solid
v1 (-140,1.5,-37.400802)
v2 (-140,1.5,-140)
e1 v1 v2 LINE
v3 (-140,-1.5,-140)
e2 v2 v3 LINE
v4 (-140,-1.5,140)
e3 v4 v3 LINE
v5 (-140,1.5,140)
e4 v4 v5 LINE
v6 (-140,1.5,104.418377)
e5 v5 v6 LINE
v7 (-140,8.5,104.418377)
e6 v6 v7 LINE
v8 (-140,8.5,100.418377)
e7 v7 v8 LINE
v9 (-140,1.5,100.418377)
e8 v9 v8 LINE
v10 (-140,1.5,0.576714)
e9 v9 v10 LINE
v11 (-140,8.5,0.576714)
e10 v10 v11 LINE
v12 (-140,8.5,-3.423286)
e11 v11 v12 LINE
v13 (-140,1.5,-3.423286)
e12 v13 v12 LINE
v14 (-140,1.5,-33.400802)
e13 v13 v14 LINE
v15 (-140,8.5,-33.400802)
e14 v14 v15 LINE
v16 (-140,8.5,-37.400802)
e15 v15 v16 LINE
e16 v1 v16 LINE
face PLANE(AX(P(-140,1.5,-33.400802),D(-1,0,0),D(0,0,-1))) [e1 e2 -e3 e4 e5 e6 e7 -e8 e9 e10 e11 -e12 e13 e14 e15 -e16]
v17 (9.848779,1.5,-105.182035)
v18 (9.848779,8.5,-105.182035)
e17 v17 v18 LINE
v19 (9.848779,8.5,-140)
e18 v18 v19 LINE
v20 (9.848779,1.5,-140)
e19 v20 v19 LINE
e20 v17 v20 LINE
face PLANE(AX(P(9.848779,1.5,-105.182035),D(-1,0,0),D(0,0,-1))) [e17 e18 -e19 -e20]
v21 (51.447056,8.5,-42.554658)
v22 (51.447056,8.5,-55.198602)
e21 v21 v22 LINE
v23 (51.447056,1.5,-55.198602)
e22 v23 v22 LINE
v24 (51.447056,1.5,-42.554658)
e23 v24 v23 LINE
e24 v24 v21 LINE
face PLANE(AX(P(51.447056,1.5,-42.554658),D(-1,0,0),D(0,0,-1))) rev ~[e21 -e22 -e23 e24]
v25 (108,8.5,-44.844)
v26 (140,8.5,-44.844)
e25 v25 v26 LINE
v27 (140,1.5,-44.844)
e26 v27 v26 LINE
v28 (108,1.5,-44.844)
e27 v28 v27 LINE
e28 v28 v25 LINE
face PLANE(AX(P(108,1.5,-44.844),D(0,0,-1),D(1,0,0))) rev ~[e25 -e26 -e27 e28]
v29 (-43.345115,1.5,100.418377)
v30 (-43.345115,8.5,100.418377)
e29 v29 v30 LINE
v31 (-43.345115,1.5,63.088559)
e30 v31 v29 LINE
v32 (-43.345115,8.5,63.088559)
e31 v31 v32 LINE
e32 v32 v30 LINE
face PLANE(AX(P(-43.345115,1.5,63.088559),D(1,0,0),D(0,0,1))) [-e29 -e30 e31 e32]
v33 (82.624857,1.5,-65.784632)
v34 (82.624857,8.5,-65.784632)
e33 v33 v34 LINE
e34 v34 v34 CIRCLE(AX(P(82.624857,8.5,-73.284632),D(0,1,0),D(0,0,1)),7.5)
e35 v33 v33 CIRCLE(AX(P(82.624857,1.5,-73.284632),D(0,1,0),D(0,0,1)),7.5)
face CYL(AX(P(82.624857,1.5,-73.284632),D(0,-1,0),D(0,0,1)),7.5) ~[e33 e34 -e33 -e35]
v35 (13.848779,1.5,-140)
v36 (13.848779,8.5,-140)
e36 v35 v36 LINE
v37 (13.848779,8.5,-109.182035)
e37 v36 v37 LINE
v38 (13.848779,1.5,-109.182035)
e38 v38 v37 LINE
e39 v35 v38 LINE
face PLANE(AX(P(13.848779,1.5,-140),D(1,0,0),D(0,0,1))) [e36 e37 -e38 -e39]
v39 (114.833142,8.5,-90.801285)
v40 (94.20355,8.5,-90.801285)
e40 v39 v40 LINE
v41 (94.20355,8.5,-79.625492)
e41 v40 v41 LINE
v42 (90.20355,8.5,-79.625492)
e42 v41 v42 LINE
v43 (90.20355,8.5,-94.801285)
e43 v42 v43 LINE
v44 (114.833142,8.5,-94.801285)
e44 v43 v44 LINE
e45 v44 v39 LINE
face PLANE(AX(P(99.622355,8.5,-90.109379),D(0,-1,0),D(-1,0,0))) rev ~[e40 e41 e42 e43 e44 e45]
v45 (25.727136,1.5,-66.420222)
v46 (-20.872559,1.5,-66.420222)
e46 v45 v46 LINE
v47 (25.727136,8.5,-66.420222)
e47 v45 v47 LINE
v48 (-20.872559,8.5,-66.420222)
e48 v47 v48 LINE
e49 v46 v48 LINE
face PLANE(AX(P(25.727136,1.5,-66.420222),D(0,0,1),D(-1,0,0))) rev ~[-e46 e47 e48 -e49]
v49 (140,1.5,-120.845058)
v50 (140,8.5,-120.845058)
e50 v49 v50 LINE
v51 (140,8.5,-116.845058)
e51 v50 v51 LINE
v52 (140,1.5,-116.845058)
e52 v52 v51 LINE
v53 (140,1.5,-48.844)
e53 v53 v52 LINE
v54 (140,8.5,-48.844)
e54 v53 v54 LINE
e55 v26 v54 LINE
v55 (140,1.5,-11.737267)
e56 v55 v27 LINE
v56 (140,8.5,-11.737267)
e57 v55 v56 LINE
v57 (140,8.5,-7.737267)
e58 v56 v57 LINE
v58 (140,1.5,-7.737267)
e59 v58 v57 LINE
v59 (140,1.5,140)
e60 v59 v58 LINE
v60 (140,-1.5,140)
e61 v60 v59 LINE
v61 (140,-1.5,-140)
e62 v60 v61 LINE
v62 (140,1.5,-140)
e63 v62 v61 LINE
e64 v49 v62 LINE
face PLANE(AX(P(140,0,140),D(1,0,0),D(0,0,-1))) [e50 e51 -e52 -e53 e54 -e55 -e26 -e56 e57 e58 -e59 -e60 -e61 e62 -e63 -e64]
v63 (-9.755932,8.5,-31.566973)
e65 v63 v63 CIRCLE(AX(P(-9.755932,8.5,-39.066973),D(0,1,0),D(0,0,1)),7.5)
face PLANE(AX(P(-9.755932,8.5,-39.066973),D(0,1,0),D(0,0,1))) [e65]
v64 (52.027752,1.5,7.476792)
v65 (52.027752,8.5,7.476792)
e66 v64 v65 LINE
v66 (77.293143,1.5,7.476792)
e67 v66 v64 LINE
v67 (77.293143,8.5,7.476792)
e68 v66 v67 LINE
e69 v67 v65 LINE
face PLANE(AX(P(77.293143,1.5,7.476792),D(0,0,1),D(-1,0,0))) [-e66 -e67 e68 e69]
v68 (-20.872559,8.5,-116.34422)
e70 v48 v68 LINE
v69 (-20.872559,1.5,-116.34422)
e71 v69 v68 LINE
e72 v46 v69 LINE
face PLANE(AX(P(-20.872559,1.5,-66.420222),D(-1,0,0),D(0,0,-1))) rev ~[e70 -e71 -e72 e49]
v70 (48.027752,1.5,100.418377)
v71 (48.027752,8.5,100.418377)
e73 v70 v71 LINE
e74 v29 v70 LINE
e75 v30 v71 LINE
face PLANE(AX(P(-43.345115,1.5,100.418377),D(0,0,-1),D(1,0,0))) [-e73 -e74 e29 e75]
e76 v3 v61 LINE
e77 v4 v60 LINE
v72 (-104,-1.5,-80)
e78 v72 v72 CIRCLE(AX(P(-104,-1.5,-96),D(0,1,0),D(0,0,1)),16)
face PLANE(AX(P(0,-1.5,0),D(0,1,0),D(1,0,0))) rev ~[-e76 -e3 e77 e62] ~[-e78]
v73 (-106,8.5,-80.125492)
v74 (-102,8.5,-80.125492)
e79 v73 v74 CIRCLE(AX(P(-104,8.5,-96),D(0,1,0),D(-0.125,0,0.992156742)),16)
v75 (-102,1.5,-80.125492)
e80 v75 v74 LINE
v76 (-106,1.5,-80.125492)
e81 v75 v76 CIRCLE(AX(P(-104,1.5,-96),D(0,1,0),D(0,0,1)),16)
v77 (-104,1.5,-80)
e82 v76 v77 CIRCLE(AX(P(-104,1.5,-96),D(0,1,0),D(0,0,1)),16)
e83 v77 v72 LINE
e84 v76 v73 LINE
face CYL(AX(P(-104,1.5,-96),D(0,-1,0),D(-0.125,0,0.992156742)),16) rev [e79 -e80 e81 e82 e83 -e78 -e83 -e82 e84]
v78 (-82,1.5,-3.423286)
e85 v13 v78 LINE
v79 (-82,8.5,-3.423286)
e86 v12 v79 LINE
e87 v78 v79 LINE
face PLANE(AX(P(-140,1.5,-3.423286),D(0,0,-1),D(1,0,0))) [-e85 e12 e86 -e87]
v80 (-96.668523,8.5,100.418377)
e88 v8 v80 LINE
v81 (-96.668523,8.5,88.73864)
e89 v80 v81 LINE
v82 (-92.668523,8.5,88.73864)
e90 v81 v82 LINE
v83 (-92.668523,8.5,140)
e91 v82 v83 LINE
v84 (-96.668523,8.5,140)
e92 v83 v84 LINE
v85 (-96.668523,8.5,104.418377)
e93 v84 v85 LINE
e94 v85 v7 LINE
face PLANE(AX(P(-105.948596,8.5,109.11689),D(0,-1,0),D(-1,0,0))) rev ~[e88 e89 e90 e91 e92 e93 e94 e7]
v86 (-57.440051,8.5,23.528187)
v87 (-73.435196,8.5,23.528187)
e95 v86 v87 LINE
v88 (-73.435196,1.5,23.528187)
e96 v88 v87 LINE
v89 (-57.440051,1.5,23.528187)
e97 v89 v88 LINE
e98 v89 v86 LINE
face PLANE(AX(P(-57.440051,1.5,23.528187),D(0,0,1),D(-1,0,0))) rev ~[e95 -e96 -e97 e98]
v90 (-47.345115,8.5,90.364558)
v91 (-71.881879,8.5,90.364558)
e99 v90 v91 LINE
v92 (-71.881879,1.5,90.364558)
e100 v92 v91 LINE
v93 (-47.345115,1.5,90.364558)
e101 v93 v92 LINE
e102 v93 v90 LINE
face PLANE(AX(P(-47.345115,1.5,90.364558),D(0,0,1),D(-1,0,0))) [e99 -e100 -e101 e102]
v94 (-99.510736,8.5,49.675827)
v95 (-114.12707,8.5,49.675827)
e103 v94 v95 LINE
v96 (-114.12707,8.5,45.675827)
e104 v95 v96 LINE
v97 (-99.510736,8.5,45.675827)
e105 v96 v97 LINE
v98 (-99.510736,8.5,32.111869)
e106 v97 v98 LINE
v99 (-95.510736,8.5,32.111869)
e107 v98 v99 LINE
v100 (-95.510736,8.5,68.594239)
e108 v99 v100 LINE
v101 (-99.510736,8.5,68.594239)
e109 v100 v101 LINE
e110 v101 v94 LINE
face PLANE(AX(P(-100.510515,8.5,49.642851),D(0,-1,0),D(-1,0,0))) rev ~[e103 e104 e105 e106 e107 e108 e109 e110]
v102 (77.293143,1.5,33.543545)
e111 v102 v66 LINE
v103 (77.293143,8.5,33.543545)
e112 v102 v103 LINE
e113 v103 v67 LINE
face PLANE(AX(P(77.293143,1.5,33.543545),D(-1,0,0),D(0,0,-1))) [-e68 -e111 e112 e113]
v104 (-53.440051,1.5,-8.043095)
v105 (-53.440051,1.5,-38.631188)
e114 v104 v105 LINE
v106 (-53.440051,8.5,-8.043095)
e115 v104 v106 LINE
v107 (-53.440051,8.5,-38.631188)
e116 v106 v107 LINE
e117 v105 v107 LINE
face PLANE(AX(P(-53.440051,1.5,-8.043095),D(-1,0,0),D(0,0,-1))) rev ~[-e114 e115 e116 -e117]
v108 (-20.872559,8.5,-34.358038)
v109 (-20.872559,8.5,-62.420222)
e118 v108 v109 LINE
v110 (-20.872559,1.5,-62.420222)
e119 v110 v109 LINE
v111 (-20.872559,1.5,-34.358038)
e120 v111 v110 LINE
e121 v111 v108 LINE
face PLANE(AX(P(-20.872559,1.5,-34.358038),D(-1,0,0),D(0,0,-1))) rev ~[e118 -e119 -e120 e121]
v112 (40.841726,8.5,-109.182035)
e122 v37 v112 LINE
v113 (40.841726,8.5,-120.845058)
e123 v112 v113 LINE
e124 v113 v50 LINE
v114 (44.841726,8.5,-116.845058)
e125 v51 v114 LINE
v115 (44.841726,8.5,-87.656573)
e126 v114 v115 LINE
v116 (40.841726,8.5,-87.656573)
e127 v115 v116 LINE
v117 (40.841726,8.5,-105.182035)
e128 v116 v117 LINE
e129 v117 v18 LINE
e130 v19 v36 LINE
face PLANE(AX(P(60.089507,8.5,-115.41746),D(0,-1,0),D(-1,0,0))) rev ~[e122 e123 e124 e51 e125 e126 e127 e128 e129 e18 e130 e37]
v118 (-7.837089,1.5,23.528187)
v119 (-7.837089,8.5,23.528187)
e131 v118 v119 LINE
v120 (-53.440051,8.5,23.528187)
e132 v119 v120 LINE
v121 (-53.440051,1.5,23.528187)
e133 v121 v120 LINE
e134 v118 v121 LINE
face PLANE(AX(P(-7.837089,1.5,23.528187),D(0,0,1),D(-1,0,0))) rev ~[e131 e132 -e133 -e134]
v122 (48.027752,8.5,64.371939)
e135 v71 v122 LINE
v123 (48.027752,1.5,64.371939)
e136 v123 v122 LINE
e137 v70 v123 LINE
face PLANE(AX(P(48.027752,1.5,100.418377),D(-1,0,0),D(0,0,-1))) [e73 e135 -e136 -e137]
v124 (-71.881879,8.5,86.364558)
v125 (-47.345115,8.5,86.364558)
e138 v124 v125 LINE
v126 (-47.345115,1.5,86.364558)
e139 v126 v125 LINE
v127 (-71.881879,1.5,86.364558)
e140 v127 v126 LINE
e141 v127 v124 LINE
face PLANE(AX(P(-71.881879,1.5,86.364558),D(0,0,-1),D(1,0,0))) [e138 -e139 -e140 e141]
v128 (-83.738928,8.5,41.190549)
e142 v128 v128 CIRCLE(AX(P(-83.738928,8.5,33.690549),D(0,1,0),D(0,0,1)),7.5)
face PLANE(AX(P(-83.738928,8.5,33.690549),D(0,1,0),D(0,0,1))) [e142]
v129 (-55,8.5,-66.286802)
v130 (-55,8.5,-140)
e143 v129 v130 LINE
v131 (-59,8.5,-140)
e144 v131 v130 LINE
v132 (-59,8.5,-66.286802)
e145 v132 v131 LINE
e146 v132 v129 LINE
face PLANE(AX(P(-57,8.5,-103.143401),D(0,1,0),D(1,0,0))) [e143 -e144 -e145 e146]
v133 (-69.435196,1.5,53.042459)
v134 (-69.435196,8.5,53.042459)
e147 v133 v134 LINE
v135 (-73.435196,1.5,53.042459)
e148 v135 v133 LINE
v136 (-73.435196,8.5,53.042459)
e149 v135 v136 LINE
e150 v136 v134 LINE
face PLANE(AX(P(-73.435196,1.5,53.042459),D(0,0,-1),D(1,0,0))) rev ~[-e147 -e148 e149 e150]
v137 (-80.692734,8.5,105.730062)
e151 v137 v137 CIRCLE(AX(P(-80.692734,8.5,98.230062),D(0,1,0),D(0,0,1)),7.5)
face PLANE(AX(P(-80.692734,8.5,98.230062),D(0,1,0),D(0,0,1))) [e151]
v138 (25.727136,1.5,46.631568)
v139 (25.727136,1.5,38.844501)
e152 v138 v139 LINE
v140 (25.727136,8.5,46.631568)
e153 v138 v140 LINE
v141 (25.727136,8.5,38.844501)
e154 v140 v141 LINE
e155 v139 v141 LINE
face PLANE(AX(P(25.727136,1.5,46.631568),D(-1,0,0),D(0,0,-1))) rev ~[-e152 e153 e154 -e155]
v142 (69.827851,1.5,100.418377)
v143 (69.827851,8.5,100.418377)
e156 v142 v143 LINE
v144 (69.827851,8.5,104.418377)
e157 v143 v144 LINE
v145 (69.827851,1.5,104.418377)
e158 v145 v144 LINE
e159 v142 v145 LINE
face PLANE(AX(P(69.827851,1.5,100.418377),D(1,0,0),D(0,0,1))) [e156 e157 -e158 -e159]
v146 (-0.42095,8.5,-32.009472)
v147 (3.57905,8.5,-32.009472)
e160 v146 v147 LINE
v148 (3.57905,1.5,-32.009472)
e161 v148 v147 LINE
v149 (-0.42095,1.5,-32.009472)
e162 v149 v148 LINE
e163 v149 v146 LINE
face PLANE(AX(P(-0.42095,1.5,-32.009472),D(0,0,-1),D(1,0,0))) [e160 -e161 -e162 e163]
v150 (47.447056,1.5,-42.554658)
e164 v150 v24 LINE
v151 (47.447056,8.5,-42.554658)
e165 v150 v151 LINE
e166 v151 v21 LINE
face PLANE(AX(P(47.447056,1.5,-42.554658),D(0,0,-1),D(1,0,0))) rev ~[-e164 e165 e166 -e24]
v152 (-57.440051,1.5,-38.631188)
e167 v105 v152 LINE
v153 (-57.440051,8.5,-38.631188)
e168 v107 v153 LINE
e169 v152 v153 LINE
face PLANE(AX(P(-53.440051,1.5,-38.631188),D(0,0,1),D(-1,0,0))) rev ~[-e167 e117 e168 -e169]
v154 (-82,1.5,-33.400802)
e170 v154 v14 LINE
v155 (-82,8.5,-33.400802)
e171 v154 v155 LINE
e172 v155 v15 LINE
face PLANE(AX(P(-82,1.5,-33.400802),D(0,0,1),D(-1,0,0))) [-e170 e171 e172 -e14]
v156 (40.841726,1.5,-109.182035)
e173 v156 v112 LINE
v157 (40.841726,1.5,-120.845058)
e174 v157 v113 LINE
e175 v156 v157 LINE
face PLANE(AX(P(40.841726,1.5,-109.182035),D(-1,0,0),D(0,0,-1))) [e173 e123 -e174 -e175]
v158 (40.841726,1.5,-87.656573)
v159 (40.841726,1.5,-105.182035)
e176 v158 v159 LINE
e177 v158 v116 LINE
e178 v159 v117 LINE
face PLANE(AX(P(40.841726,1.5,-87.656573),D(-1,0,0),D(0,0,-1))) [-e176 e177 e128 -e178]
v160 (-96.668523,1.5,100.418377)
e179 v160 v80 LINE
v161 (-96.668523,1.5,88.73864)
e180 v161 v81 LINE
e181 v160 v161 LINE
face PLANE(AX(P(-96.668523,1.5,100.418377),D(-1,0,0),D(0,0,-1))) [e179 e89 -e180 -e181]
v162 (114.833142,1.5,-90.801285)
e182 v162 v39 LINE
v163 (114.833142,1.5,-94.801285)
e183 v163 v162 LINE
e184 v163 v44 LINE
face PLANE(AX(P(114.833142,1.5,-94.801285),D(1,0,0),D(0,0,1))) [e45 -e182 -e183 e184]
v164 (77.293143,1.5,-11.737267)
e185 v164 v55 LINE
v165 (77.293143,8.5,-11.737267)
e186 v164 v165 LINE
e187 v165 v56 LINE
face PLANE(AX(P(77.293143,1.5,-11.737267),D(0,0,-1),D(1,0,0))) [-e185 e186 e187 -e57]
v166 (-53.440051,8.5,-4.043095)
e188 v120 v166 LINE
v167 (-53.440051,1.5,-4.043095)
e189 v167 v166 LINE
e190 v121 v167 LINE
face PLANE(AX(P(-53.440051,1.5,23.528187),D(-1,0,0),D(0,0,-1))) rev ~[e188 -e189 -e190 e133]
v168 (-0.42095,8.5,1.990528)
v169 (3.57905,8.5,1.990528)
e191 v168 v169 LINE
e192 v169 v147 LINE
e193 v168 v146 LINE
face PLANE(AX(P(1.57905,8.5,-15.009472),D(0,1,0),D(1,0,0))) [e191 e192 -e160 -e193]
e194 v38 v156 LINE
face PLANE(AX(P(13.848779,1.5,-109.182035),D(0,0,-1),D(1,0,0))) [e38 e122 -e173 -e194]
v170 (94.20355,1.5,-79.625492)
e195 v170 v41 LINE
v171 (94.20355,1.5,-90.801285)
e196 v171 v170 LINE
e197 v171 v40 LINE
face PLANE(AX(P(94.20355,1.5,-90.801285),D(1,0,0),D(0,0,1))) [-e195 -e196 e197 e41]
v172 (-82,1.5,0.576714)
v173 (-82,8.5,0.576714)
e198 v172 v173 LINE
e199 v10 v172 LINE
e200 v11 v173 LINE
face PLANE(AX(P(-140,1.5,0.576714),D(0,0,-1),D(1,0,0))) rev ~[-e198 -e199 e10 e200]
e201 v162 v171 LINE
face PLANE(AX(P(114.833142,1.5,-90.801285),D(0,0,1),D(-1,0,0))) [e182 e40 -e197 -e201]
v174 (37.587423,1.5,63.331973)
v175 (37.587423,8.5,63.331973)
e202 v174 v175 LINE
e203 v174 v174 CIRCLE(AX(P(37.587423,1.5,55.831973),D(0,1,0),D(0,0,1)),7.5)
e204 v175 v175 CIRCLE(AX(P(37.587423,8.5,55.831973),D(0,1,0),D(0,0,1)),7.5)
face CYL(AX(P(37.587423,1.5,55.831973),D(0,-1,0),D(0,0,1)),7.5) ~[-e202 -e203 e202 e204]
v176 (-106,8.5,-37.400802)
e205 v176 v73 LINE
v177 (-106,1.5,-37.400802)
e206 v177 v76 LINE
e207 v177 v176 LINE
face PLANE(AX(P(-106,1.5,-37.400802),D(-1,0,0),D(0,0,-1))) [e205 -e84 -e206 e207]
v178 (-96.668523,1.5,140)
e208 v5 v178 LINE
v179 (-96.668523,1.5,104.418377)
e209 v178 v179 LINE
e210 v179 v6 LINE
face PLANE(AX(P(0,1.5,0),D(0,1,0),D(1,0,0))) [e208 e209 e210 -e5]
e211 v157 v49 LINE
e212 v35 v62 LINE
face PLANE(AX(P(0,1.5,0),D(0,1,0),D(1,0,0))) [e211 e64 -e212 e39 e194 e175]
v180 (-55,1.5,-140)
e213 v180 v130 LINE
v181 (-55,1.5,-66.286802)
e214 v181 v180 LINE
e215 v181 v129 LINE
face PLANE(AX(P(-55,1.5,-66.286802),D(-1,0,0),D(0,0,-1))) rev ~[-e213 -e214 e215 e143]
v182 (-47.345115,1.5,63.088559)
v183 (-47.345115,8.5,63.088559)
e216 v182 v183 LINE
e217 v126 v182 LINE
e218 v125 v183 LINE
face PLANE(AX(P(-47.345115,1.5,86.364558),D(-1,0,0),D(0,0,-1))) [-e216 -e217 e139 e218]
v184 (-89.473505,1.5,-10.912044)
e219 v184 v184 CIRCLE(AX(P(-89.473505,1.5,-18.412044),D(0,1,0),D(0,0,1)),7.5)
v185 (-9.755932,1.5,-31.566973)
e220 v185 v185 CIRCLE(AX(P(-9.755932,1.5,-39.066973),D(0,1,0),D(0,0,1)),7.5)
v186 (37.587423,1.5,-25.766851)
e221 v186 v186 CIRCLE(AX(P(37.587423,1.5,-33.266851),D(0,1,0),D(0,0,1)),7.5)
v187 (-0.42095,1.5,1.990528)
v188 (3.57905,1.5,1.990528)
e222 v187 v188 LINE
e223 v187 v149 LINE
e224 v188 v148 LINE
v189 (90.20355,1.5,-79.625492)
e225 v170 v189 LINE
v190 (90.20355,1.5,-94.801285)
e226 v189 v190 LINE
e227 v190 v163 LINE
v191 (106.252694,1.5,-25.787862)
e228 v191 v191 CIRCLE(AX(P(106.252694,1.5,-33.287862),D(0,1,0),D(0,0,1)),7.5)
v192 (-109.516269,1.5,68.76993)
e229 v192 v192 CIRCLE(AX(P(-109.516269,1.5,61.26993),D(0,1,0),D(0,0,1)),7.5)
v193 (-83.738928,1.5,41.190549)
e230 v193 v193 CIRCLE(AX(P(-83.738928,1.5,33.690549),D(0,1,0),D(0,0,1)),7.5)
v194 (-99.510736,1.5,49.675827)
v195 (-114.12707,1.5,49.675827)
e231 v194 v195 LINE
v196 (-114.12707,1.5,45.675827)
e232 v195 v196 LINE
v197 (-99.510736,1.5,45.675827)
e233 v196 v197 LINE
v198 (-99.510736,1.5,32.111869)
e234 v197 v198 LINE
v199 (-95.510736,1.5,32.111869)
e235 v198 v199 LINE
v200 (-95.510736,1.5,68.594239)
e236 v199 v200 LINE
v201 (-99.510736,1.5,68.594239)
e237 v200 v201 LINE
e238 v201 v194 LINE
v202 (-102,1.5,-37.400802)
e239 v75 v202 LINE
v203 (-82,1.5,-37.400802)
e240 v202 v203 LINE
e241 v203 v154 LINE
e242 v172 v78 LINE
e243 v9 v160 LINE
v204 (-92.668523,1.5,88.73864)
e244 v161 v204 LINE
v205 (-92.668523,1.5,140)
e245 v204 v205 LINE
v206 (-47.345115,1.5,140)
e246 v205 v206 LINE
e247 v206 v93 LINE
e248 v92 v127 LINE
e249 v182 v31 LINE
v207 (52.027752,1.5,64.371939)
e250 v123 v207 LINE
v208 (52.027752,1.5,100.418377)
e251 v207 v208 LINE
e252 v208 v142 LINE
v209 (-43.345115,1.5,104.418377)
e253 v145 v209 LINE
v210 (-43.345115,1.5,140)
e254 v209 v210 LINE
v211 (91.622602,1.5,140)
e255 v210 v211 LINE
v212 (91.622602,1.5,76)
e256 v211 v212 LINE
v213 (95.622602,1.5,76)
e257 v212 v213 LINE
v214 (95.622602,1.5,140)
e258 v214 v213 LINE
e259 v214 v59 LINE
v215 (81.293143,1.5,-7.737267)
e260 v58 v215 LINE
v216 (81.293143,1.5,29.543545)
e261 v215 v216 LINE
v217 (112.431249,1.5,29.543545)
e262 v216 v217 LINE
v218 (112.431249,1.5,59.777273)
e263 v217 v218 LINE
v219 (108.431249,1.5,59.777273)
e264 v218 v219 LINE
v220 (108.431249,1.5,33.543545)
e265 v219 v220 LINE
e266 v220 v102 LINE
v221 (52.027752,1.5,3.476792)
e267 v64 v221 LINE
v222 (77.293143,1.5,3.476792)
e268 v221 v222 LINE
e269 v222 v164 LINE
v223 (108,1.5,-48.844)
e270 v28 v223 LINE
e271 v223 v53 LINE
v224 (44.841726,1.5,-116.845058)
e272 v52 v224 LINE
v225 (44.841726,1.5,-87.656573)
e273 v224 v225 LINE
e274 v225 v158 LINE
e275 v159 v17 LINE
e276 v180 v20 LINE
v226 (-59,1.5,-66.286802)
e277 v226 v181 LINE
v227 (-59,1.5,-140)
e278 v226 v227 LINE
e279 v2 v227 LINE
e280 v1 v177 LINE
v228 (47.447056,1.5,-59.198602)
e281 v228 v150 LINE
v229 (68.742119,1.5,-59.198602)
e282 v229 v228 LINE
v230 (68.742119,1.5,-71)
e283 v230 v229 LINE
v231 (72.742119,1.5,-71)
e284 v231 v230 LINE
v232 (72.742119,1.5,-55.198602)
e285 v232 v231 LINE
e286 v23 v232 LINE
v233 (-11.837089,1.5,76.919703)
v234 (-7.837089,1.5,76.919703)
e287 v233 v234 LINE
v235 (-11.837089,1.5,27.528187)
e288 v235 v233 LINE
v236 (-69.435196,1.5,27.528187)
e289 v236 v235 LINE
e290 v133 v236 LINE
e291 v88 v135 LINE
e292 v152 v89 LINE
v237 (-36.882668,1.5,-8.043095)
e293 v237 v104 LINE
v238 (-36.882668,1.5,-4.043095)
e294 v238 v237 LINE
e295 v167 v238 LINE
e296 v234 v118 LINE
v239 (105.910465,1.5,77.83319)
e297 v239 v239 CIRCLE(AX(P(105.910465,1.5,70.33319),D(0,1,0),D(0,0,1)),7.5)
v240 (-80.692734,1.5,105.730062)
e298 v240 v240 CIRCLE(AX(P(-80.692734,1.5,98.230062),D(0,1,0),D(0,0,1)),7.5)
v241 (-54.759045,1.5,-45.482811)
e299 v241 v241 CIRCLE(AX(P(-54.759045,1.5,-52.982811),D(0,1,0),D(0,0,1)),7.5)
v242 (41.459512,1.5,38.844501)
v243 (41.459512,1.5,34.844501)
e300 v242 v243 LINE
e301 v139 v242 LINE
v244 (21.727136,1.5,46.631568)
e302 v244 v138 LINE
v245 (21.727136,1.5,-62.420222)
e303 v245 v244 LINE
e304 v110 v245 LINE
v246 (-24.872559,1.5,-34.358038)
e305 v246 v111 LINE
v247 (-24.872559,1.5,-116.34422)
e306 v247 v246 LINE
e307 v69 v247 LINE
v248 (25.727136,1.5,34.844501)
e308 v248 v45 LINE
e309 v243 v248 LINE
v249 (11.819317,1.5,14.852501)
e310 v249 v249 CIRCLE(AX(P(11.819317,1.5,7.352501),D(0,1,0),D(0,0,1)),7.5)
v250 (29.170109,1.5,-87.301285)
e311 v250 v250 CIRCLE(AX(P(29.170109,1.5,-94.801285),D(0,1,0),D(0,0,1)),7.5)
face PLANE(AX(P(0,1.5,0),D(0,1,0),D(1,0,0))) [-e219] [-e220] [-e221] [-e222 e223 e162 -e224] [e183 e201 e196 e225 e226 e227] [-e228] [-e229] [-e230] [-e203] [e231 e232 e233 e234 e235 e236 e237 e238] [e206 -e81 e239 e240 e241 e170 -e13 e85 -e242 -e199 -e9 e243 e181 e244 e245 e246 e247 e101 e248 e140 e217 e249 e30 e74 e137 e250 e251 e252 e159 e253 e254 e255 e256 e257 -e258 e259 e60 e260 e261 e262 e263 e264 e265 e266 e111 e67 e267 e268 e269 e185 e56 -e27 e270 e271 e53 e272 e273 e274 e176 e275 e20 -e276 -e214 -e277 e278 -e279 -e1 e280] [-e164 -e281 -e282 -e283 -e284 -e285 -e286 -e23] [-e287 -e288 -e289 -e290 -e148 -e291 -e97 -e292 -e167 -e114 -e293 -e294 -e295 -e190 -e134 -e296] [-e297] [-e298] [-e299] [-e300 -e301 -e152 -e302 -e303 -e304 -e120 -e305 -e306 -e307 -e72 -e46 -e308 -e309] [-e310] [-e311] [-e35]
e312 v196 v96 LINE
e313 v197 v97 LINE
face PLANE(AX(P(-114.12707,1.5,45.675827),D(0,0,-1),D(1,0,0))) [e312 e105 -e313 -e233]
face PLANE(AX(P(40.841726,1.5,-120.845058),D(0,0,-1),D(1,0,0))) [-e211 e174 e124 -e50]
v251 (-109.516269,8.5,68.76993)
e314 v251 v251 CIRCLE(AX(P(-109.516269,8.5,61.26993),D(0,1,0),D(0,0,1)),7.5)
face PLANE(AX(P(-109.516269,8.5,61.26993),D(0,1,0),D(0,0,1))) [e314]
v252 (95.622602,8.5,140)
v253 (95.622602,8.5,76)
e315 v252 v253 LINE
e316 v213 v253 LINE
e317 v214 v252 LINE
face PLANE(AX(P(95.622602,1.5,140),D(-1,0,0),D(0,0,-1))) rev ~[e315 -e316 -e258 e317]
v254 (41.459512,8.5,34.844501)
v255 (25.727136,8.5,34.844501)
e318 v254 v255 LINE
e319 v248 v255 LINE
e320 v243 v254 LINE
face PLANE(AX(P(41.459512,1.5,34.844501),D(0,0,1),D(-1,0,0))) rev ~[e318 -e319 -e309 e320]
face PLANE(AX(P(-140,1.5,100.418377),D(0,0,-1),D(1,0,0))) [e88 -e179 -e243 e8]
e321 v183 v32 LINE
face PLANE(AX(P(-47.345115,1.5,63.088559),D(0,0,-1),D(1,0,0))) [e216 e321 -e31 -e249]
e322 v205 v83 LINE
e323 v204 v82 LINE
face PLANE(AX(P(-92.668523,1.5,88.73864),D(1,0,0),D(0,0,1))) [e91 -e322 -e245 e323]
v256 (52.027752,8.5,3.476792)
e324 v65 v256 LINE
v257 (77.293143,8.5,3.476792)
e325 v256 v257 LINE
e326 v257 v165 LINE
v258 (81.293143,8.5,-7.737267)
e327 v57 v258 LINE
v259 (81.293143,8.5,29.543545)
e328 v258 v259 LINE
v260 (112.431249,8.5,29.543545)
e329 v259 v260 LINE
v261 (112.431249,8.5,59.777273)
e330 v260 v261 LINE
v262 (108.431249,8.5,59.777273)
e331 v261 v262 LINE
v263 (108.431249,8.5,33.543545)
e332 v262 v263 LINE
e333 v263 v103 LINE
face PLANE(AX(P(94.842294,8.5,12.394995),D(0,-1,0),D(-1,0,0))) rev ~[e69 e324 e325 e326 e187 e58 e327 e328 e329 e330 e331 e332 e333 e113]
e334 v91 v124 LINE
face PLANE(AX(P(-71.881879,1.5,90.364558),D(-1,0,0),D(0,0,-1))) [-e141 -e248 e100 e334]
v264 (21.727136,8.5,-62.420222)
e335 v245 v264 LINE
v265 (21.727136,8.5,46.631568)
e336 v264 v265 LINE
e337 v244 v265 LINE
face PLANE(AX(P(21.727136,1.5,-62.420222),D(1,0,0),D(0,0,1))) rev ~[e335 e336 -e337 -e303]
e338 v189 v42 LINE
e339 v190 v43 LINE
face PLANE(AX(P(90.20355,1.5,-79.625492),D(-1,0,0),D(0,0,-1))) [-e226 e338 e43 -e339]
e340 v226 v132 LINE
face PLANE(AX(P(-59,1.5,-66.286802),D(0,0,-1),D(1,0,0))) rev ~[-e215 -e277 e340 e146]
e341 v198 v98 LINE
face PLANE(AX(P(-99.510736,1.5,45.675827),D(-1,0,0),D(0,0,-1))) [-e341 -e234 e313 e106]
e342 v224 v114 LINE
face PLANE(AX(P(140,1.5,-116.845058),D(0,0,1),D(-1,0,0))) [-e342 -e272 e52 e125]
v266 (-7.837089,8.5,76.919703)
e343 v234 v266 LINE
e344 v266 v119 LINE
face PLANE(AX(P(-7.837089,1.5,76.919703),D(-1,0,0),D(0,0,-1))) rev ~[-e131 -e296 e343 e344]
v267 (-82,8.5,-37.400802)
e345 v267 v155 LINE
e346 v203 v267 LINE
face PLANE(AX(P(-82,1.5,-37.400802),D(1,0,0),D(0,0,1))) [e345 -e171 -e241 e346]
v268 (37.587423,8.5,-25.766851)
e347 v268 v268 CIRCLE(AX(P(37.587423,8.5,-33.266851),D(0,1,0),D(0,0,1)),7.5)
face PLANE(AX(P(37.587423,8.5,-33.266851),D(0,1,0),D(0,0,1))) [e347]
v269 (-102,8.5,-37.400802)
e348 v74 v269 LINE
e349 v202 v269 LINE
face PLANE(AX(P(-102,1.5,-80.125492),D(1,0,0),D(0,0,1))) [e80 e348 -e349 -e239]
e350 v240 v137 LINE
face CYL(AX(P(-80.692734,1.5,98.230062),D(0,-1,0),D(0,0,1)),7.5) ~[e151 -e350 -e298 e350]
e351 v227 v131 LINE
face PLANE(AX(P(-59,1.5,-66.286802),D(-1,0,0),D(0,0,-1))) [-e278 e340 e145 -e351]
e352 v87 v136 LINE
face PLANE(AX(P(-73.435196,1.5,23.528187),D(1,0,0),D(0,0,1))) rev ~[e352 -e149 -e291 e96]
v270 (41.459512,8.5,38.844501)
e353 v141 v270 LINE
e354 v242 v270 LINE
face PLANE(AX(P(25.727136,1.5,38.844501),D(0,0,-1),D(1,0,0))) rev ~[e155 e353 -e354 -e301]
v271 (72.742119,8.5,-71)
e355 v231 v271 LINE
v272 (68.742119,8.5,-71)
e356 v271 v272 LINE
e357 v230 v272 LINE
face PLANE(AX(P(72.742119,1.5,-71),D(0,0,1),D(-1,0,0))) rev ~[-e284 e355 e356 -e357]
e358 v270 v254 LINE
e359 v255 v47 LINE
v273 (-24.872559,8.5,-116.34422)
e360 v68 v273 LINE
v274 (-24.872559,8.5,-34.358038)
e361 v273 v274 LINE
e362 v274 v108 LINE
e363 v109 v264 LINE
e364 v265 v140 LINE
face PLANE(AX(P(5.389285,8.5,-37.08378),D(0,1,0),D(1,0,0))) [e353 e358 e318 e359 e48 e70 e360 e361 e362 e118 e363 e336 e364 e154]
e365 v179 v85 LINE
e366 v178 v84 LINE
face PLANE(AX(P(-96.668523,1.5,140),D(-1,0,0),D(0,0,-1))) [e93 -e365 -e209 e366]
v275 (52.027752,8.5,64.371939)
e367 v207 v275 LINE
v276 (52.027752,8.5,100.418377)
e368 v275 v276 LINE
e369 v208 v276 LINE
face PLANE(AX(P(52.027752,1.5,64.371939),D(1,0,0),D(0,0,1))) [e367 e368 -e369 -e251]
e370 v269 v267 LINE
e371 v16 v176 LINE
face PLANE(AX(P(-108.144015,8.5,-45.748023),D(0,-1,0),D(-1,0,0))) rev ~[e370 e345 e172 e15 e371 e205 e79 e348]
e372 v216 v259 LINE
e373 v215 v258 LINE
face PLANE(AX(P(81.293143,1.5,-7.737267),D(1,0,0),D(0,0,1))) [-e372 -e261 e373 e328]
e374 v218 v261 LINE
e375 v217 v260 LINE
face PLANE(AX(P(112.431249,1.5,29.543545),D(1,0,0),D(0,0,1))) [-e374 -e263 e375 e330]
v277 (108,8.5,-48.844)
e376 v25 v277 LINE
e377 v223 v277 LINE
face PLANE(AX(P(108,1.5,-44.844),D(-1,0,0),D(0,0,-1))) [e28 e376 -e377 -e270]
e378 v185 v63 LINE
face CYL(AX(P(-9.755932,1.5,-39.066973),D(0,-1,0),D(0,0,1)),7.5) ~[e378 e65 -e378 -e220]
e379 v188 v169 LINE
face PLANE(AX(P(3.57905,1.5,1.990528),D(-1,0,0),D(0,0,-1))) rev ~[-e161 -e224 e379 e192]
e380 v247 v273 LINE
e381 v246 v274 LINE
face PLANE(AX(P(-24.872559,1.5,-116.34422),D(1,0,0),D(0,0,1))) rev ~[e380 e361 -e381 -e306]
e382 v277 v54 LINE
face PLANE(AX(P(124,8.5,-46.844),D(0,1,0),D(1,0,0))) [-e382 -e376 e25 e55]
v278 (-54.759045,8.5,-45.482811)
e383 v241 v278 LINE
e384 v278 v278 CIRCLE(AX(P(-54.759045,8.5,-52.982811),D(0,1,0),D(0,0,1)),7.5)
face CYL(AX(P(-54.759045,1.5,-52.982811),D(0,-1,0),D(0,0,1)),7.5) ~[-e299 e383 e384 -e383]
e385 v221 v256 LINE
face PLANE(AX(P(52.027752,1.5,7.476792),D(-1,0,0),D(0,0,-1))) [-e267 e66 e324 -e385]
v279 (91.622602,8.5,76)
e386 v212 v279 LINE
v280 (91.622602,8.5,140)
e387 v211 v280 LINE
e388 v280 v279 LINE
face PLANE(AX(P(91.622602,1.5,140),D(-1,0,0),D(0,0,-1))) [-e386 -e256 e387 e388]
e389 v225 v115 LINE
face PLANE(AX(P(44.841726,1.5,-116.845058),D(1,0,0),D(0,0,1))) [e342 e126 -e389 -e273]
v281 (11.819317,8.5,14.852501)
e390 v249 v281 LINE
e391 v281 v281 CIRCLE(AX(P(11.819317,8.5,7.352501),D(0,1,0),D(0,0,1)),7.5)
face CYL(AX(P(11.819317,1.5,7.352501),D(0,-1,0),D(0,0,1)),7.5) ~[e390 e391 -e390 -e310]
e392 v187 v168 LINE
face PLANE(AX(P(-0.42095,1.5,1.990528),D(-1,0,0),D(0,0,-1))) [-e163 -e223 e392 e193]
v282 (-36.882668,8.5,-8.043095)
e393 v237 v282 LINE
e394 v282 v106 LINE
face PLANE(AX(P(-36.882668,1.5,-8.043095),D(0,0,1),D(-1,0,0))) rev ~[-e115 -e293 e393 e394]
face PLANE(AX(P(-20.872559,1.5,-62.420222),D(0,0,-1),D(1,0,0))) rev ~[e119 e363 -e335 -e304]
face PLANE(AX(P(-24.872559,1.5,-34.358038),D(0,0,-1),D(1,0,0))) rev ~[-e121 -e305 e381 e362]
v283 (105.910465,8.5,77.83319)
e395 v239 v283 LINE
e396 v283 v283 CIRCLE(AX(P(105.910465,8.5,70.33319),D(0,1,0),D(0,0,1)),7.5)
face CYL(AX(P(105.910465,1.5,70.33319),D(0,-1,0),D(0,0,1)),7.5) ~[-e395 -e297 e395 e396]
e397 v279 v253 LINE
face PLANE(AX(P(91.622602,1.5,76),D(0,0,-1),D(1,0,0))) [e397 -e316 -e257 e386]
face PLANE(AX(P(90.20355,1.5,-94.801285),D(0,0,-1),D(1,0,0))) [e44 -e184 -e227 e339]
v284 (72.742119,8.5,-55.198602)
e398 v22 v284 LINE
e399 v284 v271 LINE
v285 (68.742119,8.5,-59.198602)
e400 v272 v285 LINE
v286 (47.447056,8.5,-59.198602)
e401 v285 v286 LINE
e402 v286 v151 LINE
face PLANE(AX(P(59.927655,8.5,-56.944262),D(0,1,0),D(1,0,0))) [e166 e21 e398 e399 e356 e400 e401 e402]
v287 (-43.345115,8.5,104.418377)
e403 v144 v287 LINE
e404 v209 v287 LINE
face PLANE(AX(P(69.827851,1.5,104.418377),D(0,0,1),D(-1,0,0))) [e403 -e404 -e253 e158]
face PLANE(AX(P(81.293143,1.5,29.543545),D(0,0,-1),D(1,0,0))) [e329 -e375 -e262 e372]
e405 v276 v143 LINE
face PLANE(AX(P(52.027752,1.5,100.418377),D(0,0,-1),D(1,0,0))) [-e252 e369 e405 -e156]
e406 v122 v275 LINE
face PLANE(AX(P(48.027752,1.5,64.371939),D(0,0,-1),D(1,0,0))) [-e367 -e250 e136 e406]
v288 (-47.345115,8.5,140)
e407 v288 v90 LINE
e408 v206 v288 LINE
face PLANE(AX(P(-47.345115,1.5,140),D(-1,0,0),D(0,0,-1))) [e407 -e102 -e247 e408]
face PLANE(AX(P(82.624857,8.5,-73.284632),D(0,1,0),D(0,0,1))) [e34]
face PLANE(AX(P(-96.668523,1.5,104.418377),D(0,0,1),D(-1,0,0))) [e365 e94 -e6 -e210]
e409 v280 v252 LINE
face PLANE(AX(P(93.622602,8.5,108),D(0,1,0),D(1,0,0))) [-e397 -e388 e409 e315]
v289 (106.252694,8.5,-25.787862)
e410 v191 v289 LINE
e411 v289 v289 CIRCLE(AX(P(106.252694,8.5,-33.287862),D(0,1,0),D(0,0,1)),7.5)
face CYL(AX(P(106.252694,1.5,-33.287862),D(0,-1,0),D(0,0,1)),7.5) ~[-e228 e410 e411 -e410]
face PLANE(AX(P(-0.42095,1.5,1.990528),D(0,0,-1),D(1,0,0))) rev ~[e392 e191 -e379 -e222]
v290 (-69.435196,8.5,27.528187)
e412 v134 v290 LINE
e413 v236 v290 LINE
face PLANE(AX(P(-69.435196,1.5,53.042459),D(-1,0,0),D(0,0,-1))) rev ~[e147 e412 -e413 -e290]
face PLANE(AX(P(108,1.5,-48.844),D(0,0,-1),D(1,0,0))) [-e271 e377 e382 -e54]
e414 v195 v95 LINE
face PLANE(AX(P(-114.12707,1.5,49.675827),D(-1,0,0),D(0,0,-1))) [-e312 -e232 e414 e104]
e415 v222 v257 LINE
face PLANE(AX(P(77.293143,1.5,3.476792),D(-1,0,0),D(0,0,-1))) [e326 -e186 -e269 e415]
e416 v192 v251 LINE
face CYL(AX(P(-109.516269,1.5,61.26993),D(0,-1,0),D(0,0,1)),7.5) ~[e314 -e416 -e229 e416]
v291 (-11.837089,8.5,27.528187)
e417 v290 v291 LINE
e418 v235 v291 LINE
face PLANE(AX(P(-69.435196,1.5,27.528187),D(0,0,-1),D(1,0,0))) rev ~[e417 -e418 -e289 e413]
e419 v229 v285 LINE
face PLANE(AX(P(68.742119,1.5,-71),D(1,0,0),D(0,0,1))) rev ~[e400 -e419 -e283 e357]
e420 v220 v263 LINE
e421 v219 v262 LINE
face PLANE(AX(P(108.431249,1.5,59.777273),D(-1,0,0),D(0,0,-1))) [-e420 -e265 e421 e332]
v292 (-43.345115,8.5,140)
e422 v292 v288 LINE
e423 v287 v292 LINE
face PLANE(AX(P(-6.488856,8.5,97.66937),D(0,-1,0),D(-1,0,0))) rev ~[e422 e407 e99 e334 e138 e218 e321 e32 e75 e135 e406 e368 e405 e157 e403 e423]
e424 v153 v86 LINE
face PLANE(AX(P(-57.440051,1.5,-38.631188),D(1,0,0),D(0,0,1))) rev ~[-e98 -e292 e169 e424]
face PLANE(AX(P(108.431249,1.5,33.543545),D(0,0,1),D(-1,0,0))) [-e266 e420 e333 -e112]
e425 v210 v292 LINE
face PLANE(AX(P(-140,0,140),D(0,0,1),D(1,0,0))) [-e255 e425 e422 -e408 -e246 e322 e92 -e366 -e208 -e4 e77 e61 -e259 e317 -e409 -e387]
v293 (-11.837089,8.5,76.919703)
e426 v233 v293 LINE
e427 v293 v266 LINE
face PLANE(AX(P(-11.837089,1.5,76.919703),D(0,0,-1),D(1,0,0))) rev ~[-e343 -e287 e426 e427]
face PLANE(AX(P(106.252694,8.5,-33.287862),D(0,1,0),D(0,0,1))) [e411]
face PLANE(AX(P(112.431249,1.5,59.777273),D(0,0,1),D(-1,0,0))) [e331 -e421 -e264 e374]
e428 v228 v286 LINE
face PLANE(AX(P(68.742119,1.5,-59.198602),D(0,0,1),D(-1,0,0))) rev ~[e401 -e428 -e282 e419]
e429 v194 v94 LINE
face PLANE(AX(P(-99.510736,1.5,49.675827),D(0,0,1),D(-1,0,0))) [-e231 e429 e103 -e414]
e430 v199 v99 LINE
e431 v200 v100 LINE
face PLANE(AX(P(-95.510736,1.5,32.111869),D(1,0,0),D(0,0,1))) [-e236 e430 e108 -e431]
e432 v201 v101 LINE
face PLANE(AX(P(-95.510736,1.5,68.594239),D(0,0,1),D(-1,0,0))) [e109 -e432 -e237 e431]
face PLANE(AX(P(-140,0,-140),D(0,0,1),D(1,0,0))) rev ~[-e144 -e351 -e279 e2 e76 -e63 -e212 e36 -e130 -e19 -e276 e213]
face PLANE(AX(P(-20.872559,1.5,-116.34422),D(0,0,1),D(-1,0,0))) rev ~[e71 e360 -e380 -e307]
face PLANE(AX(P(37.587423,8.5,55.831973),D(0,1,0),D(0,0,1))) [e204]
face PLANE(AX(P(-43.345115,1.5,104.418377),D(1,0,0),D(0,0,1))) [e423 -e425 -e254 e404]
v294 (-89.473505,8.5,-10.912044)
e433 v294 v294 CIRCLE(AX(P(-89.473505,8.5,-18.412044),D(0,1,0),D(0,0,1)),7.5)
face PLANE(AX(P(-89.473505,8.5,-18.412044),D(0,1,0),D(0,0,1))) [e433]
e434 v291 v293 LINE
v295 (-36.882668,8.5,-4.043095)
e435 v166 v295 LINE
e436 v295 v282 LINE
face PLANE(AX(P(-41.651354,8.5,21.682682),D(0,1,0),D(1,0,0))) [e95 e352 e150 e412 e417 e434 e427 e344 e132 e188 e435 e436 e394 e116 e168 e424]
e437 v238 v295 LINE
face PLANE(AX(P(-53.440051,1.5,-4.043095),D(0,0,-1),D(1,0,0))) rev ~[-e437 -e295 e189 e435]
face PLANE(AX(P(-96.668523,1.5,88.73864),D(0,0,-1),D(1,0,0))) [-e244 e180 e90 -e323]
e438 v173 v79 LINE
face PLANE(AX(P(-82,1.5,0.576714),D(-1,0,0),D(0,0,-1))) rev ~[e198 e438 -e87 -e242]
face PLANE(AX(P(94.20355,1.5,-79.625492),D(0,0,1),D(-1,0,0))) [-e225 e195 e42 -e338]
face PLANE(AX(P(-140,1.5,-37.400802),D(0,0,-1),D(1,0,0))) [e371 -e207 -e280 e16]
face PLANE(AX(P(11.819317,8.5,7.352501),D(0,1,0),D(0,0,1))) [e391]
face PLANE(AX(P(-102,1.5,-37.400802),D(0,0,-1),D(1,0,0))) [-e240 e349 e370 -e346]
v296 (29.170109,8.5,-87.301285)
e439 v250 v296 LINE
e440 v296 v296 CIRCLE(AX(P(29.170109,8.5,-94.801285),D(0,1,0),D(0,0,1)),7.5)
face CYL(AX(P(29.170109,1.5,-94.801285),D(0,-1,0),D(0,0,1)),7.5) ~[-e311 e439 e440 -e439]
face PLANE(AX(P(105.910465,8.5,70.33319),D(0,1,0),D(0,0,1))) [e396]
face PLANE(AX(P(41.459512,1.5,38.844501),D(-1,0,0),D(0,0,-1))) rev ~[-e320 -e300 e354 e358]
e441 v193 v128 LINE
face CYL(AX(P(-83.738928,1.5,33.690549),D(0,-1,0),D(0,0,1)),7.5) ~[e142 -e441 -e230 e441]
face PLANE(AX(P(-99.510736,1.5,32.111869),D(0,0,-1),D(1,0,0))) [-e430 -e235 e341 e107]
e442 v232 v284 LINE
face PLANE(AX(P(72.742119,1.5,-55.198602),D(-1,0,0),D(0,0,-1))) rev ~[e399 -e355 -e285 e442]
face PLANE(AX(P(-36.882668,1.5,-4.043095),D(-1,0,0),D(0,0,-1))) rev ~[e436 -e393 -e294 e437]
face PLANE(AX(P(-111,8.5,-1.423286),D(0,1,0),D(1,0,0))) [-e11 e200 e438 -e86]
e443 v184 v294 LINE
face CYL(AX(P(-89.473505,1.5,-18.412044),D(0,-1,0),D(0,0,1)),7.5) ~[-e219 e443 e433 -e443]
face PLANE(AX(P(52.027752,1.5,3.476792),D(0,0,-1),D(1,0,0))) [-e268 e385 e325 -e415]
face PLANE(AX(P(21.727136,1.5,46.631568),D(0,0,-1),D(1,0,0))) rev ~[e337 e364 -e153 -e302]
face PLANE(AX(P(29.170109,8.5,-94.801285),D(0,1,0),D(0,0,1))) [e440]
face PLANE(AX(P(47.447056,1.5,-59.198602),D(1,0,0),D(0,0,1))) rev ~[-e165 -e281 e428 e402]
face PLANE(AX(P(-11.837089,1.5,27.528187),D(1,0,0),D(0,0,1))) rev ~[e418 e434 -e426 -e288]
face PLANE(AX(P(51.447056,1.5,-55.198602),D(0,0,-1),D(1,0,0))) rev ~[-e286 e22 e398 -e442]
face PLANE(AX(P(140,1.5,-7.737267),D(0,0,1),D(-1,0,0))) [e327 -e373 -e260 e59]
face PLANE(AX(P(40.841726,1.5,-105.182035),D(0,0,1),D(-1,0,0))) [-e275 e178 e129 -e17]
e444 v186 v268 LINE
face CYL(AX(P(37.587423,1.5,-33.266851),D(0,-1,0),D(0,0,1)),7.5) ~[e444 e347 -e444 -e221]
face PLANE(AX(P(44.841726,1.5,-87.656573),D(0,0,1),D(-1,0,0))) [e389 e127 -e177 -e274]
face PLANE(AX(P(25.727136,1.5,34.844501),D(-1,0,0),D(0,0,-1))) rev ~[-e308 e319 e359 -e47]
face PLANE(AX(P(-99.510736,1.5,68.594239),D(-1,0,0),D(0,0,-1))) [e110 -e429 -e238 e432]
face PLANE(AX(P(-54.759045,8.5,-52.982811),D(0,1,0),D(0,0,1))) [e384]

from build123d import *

# Parameters (mm, degrees)
SKETCH1_W           = 280
SKETCH1_H           = 280
SKETCH1_R           = 16
BOSS_EXTRUDE1_DEPTH = 1.5
SKETCH2_R           = 7.5
SKETCH2_W           = 4
SKETCH2_H           = 73.713198053
SKETCH2_W_2         = 58
SKETCH2_H_2         = 4
SKETCH2_H_3         = 64
SKETCH2_W_3         = 32
SKETCH2_H_4         = 34
BOSS_EXTRUDE2_DEPTH = 7


with BuildPart() as part:
    # Sketch1 → Boss-Extrude1 (new, symmetric)
    with BuildSketch(Plane(origin=(0, 0, 0), x_dir=(1, 0, 0), z_dir=(0, 1, 0))):
        Rectangle(SKETCH1_W, SKETCH1_H)
        with Locations(Location((-104, 96, 0), (0, 0, 270))):
            Circle(SKETCH1_R, mode=Mode.SUBTRACT)
    extrude(amount=BOSS_EXTRUDE1_DEPTH, both=True)

    # Sketch2 → Boss-Extrude2 (add)
    with BuildSketch(Plane(origin=(0, 1.5, 0), x_dir=(1, 0, 0), z_dir=(0, 1, 0))):
        with Locations(Location((-54.759044634, 52.982810669, 0), (0, 0, 270))):
            Circle(SKETCH2_R)
        with Locations(Location((-89.473504534, 18.412044198, 0), (0, 0, 270))):
            Circle(SKETCH2_R)
        with Locations(Location((-83.738928303, -33.690548853, 0), (0, 0, 270))):
            Circle(SKETCH2_R)
        with Locations(Location((-109.516269096, -61.269929812, 0), (0, 0, 270))):
            Circle(SKETCH2_R)
        with Locations(Location((-80.69273369, -98.230062392, 0), (0, 0, 270))):
            Circle(SKETCH2_R)
        with Locations(Location((37.587423323, -55.831973409, 0), (0, 0, 270))):
            Circle(SKETCH2_R)
        with Locations(Location((105.9104653, -70.333190482, 0), (0, 0, 270))):
            Circle(SKETCH2_R)
        with Locations(Location((11.819316554, -7.352500668, 0), (0, 0, 270))):
            Circle(SKETCH2_R)
        with Locations(Location((-9.755931913, 39.066973306, 0), (0, 0, 270))):
            Circle(SKETCH2_R)
        with Locations(Location((29.170109307, 94.80128466, 0), (0, 0, 270))):
            Circle(SKETCH2_R)
        with Locations(Location((82.624857116, 73.284632448, 0), (0, 0, 270))):
            Circle(SKETCH2_R)
        with Locations(Location((37.587423323, 33.266850719, 0), (0, 0, 270))):
            Circle(SKETCH2_R)
        with Locations(Location((106.252694304, 33.287862382, 0), (0, 0, 270))):
            Circle(SKETCH2_R)
        with Locations((-57, 103.143400974)):
            Rectangle(SKETCH2_W, SKETCH2_H)
        with BuildLine():
            Line((-140, 37.400802204), (-106, 37.400802204))
            Line((-106, 37.400802204), (-106, 80.125492134))
            ThreePointArc((-106, 80.125492134), (-104, 80), (-102, 80.125492134))
            Line((-102, 80.125492134), (-102, 37.400802204))
            Line((-102, 37.400802204), (-82, 37.400802204))
            Line((-82, 37.400802204), (-82, 33.400802204))
            Line((-82, 33.400802204), (-140, 33.400802204))
            Line((-140, 33.400802204), (-140, 37.400802204))
        make_face()
        Polygon((-140, -100.418377476), (-96.668523278, -100.418377476), (-96.668523278, -88.738640334), (-92.668523278, -88.738640334), (-92.668523278, -140), (-96.668523278, -140), (-96.668523278, -104.418377476), (-140, -104.418377476), align=None)
        with Locations((-111, 1.423286191)):
            Rectangle(SKETCH2_W_2, SKETCH2_H_2)
        Polygon((-47.345115434, -140), (-47.345115434, -90.364557891), (-71.881878867, -90.364557891), (-71.881878867, -86.364557891), (-47.345115434, -86.364557891), (-47.345115434, -63.088559208), (-43.345115434, -63.088559208), (-43.345115434, -100.418377476), (48.027751829, -100.418377476), (48.027751829, -64.371939455), (52.027751829, -64.371939455), (52.027751829, -100.418377476), (69.827851451, -100.418377476), (69.827851451, -104.418377476), (-43.345115434, -104.418377476), (-43.345115434, -140), align=None)
        Polygon((140, 7.737266613), (81.293142587, 7.737266613), (81.293142587, -29.543544834), (112.431248518, -29.543544834), (112.431248518, -59.777272974), (108.431248518, -59.777272974), (108.431248518, -33.543544834), (77.293142587, -33.543544834), (77.293142587, -7.47679166), (52.027751829, -7.47679166), (52.027751829, -3.47679166), (77.293142587, -3.47679166), (77.293142587, 11.737266613), (140, 11.737266613), align=None)
        with Locations((93.622601552, -108)):
            Rectangle(SKETCH2_W, SKETCH2_H_3)
        Polygon((-99.510735812, -32.111868954), (-95.510735812, -32.111868954), (-95.510735812, -68.594238703), (-99.510735812, -68.594238703), (-99.510735812, -49.675826938), (-114.127069846, -49.675826938), (-114.127069846, -45.675826938), (-99.510735812, -45.675826938), align=None)
        with Locations((124, 46.843999527)):
            Rectangle(SKETCH2_W_3, SKETCH2_H_2)
        Polygon((-73.435195895, -53.042459291), (-69.435195895, -53.042459291), (-69.435195895, -27.528186601), (-11.837088751, -27.528186601), (-11.837088751, -76.919702569), (-7.837088751, -76.919702569), (-7.837088751, -23.528186601), (-53.440050937, -23.528186601), (-53.440050937, 4.043094912), (-36.882667743, 4.043094912), (-36.882667743, 8.043094912), (-53.440050937, 8.043094912), (-53.440050937, 38.63118777), (-57.440050937, 38.63118777), (-57.440050937, -23.528186601), (-73.435195895, -23.528186601), align=None)
        Polygon((114.833141636, 94.80128466), (114.833141636, 90.80128466), (94.203549623, 90.80128466), (94.203549623, 79.625492134), (90.203549623, 79.625492134), (90.203549623, 94.80128466), align=None)
        with Locations((1.57904958, 15.009472223)):
            Rectangle(SKETCH2_W, SKETCH2_H_4)
        Polygon((68.742119222, 71), (68.742119222, 59.19860167), (47.447056499, 59.19860167), (47.447056499, 42.554658178), (51.447056499, 42.554658178), (51.447056499, 55.19860167), (72.742119222, 55.19860167), (72.742119222, 71), align=None)
        Polygon((21.727135977, -46.6315684), (25.727135977, -46.6315684), (25.727135977, -38.844500644), (41.459511743, -38.844500644), (41.459511743, -34.844500644), (25.727135977, -34.844500644), (25.727135977, 66.420221849), (-20.87255933, 66.420221849), (-20.87255933, 116.344219933), (-24.87255933, 116.344219933), (-24.87255933, 34.358038326), (-20.87255933, 34.358038326), (-20.87255933, 62.420221849), (21.727135977, 62.420221849), align=None)
        Polygon((140, 116.845058218), (44.841725693, 116.845058218), (44.841725693, 87.65657302), (40.841725693, 87.65657302), (40.841725693, 105.182034885), (9.848778982, 105.182034885), (9.848778982, 140), (13.848778982, 140), (13.848778982, 109.182034885), (40.841725693, 109.182034885), (40.841725693, 120.845058218), (140, 120.845058218), align=None)
    extrude(amount=BOSS_EXTRUDE2_DEPTH)


solid = part.part
